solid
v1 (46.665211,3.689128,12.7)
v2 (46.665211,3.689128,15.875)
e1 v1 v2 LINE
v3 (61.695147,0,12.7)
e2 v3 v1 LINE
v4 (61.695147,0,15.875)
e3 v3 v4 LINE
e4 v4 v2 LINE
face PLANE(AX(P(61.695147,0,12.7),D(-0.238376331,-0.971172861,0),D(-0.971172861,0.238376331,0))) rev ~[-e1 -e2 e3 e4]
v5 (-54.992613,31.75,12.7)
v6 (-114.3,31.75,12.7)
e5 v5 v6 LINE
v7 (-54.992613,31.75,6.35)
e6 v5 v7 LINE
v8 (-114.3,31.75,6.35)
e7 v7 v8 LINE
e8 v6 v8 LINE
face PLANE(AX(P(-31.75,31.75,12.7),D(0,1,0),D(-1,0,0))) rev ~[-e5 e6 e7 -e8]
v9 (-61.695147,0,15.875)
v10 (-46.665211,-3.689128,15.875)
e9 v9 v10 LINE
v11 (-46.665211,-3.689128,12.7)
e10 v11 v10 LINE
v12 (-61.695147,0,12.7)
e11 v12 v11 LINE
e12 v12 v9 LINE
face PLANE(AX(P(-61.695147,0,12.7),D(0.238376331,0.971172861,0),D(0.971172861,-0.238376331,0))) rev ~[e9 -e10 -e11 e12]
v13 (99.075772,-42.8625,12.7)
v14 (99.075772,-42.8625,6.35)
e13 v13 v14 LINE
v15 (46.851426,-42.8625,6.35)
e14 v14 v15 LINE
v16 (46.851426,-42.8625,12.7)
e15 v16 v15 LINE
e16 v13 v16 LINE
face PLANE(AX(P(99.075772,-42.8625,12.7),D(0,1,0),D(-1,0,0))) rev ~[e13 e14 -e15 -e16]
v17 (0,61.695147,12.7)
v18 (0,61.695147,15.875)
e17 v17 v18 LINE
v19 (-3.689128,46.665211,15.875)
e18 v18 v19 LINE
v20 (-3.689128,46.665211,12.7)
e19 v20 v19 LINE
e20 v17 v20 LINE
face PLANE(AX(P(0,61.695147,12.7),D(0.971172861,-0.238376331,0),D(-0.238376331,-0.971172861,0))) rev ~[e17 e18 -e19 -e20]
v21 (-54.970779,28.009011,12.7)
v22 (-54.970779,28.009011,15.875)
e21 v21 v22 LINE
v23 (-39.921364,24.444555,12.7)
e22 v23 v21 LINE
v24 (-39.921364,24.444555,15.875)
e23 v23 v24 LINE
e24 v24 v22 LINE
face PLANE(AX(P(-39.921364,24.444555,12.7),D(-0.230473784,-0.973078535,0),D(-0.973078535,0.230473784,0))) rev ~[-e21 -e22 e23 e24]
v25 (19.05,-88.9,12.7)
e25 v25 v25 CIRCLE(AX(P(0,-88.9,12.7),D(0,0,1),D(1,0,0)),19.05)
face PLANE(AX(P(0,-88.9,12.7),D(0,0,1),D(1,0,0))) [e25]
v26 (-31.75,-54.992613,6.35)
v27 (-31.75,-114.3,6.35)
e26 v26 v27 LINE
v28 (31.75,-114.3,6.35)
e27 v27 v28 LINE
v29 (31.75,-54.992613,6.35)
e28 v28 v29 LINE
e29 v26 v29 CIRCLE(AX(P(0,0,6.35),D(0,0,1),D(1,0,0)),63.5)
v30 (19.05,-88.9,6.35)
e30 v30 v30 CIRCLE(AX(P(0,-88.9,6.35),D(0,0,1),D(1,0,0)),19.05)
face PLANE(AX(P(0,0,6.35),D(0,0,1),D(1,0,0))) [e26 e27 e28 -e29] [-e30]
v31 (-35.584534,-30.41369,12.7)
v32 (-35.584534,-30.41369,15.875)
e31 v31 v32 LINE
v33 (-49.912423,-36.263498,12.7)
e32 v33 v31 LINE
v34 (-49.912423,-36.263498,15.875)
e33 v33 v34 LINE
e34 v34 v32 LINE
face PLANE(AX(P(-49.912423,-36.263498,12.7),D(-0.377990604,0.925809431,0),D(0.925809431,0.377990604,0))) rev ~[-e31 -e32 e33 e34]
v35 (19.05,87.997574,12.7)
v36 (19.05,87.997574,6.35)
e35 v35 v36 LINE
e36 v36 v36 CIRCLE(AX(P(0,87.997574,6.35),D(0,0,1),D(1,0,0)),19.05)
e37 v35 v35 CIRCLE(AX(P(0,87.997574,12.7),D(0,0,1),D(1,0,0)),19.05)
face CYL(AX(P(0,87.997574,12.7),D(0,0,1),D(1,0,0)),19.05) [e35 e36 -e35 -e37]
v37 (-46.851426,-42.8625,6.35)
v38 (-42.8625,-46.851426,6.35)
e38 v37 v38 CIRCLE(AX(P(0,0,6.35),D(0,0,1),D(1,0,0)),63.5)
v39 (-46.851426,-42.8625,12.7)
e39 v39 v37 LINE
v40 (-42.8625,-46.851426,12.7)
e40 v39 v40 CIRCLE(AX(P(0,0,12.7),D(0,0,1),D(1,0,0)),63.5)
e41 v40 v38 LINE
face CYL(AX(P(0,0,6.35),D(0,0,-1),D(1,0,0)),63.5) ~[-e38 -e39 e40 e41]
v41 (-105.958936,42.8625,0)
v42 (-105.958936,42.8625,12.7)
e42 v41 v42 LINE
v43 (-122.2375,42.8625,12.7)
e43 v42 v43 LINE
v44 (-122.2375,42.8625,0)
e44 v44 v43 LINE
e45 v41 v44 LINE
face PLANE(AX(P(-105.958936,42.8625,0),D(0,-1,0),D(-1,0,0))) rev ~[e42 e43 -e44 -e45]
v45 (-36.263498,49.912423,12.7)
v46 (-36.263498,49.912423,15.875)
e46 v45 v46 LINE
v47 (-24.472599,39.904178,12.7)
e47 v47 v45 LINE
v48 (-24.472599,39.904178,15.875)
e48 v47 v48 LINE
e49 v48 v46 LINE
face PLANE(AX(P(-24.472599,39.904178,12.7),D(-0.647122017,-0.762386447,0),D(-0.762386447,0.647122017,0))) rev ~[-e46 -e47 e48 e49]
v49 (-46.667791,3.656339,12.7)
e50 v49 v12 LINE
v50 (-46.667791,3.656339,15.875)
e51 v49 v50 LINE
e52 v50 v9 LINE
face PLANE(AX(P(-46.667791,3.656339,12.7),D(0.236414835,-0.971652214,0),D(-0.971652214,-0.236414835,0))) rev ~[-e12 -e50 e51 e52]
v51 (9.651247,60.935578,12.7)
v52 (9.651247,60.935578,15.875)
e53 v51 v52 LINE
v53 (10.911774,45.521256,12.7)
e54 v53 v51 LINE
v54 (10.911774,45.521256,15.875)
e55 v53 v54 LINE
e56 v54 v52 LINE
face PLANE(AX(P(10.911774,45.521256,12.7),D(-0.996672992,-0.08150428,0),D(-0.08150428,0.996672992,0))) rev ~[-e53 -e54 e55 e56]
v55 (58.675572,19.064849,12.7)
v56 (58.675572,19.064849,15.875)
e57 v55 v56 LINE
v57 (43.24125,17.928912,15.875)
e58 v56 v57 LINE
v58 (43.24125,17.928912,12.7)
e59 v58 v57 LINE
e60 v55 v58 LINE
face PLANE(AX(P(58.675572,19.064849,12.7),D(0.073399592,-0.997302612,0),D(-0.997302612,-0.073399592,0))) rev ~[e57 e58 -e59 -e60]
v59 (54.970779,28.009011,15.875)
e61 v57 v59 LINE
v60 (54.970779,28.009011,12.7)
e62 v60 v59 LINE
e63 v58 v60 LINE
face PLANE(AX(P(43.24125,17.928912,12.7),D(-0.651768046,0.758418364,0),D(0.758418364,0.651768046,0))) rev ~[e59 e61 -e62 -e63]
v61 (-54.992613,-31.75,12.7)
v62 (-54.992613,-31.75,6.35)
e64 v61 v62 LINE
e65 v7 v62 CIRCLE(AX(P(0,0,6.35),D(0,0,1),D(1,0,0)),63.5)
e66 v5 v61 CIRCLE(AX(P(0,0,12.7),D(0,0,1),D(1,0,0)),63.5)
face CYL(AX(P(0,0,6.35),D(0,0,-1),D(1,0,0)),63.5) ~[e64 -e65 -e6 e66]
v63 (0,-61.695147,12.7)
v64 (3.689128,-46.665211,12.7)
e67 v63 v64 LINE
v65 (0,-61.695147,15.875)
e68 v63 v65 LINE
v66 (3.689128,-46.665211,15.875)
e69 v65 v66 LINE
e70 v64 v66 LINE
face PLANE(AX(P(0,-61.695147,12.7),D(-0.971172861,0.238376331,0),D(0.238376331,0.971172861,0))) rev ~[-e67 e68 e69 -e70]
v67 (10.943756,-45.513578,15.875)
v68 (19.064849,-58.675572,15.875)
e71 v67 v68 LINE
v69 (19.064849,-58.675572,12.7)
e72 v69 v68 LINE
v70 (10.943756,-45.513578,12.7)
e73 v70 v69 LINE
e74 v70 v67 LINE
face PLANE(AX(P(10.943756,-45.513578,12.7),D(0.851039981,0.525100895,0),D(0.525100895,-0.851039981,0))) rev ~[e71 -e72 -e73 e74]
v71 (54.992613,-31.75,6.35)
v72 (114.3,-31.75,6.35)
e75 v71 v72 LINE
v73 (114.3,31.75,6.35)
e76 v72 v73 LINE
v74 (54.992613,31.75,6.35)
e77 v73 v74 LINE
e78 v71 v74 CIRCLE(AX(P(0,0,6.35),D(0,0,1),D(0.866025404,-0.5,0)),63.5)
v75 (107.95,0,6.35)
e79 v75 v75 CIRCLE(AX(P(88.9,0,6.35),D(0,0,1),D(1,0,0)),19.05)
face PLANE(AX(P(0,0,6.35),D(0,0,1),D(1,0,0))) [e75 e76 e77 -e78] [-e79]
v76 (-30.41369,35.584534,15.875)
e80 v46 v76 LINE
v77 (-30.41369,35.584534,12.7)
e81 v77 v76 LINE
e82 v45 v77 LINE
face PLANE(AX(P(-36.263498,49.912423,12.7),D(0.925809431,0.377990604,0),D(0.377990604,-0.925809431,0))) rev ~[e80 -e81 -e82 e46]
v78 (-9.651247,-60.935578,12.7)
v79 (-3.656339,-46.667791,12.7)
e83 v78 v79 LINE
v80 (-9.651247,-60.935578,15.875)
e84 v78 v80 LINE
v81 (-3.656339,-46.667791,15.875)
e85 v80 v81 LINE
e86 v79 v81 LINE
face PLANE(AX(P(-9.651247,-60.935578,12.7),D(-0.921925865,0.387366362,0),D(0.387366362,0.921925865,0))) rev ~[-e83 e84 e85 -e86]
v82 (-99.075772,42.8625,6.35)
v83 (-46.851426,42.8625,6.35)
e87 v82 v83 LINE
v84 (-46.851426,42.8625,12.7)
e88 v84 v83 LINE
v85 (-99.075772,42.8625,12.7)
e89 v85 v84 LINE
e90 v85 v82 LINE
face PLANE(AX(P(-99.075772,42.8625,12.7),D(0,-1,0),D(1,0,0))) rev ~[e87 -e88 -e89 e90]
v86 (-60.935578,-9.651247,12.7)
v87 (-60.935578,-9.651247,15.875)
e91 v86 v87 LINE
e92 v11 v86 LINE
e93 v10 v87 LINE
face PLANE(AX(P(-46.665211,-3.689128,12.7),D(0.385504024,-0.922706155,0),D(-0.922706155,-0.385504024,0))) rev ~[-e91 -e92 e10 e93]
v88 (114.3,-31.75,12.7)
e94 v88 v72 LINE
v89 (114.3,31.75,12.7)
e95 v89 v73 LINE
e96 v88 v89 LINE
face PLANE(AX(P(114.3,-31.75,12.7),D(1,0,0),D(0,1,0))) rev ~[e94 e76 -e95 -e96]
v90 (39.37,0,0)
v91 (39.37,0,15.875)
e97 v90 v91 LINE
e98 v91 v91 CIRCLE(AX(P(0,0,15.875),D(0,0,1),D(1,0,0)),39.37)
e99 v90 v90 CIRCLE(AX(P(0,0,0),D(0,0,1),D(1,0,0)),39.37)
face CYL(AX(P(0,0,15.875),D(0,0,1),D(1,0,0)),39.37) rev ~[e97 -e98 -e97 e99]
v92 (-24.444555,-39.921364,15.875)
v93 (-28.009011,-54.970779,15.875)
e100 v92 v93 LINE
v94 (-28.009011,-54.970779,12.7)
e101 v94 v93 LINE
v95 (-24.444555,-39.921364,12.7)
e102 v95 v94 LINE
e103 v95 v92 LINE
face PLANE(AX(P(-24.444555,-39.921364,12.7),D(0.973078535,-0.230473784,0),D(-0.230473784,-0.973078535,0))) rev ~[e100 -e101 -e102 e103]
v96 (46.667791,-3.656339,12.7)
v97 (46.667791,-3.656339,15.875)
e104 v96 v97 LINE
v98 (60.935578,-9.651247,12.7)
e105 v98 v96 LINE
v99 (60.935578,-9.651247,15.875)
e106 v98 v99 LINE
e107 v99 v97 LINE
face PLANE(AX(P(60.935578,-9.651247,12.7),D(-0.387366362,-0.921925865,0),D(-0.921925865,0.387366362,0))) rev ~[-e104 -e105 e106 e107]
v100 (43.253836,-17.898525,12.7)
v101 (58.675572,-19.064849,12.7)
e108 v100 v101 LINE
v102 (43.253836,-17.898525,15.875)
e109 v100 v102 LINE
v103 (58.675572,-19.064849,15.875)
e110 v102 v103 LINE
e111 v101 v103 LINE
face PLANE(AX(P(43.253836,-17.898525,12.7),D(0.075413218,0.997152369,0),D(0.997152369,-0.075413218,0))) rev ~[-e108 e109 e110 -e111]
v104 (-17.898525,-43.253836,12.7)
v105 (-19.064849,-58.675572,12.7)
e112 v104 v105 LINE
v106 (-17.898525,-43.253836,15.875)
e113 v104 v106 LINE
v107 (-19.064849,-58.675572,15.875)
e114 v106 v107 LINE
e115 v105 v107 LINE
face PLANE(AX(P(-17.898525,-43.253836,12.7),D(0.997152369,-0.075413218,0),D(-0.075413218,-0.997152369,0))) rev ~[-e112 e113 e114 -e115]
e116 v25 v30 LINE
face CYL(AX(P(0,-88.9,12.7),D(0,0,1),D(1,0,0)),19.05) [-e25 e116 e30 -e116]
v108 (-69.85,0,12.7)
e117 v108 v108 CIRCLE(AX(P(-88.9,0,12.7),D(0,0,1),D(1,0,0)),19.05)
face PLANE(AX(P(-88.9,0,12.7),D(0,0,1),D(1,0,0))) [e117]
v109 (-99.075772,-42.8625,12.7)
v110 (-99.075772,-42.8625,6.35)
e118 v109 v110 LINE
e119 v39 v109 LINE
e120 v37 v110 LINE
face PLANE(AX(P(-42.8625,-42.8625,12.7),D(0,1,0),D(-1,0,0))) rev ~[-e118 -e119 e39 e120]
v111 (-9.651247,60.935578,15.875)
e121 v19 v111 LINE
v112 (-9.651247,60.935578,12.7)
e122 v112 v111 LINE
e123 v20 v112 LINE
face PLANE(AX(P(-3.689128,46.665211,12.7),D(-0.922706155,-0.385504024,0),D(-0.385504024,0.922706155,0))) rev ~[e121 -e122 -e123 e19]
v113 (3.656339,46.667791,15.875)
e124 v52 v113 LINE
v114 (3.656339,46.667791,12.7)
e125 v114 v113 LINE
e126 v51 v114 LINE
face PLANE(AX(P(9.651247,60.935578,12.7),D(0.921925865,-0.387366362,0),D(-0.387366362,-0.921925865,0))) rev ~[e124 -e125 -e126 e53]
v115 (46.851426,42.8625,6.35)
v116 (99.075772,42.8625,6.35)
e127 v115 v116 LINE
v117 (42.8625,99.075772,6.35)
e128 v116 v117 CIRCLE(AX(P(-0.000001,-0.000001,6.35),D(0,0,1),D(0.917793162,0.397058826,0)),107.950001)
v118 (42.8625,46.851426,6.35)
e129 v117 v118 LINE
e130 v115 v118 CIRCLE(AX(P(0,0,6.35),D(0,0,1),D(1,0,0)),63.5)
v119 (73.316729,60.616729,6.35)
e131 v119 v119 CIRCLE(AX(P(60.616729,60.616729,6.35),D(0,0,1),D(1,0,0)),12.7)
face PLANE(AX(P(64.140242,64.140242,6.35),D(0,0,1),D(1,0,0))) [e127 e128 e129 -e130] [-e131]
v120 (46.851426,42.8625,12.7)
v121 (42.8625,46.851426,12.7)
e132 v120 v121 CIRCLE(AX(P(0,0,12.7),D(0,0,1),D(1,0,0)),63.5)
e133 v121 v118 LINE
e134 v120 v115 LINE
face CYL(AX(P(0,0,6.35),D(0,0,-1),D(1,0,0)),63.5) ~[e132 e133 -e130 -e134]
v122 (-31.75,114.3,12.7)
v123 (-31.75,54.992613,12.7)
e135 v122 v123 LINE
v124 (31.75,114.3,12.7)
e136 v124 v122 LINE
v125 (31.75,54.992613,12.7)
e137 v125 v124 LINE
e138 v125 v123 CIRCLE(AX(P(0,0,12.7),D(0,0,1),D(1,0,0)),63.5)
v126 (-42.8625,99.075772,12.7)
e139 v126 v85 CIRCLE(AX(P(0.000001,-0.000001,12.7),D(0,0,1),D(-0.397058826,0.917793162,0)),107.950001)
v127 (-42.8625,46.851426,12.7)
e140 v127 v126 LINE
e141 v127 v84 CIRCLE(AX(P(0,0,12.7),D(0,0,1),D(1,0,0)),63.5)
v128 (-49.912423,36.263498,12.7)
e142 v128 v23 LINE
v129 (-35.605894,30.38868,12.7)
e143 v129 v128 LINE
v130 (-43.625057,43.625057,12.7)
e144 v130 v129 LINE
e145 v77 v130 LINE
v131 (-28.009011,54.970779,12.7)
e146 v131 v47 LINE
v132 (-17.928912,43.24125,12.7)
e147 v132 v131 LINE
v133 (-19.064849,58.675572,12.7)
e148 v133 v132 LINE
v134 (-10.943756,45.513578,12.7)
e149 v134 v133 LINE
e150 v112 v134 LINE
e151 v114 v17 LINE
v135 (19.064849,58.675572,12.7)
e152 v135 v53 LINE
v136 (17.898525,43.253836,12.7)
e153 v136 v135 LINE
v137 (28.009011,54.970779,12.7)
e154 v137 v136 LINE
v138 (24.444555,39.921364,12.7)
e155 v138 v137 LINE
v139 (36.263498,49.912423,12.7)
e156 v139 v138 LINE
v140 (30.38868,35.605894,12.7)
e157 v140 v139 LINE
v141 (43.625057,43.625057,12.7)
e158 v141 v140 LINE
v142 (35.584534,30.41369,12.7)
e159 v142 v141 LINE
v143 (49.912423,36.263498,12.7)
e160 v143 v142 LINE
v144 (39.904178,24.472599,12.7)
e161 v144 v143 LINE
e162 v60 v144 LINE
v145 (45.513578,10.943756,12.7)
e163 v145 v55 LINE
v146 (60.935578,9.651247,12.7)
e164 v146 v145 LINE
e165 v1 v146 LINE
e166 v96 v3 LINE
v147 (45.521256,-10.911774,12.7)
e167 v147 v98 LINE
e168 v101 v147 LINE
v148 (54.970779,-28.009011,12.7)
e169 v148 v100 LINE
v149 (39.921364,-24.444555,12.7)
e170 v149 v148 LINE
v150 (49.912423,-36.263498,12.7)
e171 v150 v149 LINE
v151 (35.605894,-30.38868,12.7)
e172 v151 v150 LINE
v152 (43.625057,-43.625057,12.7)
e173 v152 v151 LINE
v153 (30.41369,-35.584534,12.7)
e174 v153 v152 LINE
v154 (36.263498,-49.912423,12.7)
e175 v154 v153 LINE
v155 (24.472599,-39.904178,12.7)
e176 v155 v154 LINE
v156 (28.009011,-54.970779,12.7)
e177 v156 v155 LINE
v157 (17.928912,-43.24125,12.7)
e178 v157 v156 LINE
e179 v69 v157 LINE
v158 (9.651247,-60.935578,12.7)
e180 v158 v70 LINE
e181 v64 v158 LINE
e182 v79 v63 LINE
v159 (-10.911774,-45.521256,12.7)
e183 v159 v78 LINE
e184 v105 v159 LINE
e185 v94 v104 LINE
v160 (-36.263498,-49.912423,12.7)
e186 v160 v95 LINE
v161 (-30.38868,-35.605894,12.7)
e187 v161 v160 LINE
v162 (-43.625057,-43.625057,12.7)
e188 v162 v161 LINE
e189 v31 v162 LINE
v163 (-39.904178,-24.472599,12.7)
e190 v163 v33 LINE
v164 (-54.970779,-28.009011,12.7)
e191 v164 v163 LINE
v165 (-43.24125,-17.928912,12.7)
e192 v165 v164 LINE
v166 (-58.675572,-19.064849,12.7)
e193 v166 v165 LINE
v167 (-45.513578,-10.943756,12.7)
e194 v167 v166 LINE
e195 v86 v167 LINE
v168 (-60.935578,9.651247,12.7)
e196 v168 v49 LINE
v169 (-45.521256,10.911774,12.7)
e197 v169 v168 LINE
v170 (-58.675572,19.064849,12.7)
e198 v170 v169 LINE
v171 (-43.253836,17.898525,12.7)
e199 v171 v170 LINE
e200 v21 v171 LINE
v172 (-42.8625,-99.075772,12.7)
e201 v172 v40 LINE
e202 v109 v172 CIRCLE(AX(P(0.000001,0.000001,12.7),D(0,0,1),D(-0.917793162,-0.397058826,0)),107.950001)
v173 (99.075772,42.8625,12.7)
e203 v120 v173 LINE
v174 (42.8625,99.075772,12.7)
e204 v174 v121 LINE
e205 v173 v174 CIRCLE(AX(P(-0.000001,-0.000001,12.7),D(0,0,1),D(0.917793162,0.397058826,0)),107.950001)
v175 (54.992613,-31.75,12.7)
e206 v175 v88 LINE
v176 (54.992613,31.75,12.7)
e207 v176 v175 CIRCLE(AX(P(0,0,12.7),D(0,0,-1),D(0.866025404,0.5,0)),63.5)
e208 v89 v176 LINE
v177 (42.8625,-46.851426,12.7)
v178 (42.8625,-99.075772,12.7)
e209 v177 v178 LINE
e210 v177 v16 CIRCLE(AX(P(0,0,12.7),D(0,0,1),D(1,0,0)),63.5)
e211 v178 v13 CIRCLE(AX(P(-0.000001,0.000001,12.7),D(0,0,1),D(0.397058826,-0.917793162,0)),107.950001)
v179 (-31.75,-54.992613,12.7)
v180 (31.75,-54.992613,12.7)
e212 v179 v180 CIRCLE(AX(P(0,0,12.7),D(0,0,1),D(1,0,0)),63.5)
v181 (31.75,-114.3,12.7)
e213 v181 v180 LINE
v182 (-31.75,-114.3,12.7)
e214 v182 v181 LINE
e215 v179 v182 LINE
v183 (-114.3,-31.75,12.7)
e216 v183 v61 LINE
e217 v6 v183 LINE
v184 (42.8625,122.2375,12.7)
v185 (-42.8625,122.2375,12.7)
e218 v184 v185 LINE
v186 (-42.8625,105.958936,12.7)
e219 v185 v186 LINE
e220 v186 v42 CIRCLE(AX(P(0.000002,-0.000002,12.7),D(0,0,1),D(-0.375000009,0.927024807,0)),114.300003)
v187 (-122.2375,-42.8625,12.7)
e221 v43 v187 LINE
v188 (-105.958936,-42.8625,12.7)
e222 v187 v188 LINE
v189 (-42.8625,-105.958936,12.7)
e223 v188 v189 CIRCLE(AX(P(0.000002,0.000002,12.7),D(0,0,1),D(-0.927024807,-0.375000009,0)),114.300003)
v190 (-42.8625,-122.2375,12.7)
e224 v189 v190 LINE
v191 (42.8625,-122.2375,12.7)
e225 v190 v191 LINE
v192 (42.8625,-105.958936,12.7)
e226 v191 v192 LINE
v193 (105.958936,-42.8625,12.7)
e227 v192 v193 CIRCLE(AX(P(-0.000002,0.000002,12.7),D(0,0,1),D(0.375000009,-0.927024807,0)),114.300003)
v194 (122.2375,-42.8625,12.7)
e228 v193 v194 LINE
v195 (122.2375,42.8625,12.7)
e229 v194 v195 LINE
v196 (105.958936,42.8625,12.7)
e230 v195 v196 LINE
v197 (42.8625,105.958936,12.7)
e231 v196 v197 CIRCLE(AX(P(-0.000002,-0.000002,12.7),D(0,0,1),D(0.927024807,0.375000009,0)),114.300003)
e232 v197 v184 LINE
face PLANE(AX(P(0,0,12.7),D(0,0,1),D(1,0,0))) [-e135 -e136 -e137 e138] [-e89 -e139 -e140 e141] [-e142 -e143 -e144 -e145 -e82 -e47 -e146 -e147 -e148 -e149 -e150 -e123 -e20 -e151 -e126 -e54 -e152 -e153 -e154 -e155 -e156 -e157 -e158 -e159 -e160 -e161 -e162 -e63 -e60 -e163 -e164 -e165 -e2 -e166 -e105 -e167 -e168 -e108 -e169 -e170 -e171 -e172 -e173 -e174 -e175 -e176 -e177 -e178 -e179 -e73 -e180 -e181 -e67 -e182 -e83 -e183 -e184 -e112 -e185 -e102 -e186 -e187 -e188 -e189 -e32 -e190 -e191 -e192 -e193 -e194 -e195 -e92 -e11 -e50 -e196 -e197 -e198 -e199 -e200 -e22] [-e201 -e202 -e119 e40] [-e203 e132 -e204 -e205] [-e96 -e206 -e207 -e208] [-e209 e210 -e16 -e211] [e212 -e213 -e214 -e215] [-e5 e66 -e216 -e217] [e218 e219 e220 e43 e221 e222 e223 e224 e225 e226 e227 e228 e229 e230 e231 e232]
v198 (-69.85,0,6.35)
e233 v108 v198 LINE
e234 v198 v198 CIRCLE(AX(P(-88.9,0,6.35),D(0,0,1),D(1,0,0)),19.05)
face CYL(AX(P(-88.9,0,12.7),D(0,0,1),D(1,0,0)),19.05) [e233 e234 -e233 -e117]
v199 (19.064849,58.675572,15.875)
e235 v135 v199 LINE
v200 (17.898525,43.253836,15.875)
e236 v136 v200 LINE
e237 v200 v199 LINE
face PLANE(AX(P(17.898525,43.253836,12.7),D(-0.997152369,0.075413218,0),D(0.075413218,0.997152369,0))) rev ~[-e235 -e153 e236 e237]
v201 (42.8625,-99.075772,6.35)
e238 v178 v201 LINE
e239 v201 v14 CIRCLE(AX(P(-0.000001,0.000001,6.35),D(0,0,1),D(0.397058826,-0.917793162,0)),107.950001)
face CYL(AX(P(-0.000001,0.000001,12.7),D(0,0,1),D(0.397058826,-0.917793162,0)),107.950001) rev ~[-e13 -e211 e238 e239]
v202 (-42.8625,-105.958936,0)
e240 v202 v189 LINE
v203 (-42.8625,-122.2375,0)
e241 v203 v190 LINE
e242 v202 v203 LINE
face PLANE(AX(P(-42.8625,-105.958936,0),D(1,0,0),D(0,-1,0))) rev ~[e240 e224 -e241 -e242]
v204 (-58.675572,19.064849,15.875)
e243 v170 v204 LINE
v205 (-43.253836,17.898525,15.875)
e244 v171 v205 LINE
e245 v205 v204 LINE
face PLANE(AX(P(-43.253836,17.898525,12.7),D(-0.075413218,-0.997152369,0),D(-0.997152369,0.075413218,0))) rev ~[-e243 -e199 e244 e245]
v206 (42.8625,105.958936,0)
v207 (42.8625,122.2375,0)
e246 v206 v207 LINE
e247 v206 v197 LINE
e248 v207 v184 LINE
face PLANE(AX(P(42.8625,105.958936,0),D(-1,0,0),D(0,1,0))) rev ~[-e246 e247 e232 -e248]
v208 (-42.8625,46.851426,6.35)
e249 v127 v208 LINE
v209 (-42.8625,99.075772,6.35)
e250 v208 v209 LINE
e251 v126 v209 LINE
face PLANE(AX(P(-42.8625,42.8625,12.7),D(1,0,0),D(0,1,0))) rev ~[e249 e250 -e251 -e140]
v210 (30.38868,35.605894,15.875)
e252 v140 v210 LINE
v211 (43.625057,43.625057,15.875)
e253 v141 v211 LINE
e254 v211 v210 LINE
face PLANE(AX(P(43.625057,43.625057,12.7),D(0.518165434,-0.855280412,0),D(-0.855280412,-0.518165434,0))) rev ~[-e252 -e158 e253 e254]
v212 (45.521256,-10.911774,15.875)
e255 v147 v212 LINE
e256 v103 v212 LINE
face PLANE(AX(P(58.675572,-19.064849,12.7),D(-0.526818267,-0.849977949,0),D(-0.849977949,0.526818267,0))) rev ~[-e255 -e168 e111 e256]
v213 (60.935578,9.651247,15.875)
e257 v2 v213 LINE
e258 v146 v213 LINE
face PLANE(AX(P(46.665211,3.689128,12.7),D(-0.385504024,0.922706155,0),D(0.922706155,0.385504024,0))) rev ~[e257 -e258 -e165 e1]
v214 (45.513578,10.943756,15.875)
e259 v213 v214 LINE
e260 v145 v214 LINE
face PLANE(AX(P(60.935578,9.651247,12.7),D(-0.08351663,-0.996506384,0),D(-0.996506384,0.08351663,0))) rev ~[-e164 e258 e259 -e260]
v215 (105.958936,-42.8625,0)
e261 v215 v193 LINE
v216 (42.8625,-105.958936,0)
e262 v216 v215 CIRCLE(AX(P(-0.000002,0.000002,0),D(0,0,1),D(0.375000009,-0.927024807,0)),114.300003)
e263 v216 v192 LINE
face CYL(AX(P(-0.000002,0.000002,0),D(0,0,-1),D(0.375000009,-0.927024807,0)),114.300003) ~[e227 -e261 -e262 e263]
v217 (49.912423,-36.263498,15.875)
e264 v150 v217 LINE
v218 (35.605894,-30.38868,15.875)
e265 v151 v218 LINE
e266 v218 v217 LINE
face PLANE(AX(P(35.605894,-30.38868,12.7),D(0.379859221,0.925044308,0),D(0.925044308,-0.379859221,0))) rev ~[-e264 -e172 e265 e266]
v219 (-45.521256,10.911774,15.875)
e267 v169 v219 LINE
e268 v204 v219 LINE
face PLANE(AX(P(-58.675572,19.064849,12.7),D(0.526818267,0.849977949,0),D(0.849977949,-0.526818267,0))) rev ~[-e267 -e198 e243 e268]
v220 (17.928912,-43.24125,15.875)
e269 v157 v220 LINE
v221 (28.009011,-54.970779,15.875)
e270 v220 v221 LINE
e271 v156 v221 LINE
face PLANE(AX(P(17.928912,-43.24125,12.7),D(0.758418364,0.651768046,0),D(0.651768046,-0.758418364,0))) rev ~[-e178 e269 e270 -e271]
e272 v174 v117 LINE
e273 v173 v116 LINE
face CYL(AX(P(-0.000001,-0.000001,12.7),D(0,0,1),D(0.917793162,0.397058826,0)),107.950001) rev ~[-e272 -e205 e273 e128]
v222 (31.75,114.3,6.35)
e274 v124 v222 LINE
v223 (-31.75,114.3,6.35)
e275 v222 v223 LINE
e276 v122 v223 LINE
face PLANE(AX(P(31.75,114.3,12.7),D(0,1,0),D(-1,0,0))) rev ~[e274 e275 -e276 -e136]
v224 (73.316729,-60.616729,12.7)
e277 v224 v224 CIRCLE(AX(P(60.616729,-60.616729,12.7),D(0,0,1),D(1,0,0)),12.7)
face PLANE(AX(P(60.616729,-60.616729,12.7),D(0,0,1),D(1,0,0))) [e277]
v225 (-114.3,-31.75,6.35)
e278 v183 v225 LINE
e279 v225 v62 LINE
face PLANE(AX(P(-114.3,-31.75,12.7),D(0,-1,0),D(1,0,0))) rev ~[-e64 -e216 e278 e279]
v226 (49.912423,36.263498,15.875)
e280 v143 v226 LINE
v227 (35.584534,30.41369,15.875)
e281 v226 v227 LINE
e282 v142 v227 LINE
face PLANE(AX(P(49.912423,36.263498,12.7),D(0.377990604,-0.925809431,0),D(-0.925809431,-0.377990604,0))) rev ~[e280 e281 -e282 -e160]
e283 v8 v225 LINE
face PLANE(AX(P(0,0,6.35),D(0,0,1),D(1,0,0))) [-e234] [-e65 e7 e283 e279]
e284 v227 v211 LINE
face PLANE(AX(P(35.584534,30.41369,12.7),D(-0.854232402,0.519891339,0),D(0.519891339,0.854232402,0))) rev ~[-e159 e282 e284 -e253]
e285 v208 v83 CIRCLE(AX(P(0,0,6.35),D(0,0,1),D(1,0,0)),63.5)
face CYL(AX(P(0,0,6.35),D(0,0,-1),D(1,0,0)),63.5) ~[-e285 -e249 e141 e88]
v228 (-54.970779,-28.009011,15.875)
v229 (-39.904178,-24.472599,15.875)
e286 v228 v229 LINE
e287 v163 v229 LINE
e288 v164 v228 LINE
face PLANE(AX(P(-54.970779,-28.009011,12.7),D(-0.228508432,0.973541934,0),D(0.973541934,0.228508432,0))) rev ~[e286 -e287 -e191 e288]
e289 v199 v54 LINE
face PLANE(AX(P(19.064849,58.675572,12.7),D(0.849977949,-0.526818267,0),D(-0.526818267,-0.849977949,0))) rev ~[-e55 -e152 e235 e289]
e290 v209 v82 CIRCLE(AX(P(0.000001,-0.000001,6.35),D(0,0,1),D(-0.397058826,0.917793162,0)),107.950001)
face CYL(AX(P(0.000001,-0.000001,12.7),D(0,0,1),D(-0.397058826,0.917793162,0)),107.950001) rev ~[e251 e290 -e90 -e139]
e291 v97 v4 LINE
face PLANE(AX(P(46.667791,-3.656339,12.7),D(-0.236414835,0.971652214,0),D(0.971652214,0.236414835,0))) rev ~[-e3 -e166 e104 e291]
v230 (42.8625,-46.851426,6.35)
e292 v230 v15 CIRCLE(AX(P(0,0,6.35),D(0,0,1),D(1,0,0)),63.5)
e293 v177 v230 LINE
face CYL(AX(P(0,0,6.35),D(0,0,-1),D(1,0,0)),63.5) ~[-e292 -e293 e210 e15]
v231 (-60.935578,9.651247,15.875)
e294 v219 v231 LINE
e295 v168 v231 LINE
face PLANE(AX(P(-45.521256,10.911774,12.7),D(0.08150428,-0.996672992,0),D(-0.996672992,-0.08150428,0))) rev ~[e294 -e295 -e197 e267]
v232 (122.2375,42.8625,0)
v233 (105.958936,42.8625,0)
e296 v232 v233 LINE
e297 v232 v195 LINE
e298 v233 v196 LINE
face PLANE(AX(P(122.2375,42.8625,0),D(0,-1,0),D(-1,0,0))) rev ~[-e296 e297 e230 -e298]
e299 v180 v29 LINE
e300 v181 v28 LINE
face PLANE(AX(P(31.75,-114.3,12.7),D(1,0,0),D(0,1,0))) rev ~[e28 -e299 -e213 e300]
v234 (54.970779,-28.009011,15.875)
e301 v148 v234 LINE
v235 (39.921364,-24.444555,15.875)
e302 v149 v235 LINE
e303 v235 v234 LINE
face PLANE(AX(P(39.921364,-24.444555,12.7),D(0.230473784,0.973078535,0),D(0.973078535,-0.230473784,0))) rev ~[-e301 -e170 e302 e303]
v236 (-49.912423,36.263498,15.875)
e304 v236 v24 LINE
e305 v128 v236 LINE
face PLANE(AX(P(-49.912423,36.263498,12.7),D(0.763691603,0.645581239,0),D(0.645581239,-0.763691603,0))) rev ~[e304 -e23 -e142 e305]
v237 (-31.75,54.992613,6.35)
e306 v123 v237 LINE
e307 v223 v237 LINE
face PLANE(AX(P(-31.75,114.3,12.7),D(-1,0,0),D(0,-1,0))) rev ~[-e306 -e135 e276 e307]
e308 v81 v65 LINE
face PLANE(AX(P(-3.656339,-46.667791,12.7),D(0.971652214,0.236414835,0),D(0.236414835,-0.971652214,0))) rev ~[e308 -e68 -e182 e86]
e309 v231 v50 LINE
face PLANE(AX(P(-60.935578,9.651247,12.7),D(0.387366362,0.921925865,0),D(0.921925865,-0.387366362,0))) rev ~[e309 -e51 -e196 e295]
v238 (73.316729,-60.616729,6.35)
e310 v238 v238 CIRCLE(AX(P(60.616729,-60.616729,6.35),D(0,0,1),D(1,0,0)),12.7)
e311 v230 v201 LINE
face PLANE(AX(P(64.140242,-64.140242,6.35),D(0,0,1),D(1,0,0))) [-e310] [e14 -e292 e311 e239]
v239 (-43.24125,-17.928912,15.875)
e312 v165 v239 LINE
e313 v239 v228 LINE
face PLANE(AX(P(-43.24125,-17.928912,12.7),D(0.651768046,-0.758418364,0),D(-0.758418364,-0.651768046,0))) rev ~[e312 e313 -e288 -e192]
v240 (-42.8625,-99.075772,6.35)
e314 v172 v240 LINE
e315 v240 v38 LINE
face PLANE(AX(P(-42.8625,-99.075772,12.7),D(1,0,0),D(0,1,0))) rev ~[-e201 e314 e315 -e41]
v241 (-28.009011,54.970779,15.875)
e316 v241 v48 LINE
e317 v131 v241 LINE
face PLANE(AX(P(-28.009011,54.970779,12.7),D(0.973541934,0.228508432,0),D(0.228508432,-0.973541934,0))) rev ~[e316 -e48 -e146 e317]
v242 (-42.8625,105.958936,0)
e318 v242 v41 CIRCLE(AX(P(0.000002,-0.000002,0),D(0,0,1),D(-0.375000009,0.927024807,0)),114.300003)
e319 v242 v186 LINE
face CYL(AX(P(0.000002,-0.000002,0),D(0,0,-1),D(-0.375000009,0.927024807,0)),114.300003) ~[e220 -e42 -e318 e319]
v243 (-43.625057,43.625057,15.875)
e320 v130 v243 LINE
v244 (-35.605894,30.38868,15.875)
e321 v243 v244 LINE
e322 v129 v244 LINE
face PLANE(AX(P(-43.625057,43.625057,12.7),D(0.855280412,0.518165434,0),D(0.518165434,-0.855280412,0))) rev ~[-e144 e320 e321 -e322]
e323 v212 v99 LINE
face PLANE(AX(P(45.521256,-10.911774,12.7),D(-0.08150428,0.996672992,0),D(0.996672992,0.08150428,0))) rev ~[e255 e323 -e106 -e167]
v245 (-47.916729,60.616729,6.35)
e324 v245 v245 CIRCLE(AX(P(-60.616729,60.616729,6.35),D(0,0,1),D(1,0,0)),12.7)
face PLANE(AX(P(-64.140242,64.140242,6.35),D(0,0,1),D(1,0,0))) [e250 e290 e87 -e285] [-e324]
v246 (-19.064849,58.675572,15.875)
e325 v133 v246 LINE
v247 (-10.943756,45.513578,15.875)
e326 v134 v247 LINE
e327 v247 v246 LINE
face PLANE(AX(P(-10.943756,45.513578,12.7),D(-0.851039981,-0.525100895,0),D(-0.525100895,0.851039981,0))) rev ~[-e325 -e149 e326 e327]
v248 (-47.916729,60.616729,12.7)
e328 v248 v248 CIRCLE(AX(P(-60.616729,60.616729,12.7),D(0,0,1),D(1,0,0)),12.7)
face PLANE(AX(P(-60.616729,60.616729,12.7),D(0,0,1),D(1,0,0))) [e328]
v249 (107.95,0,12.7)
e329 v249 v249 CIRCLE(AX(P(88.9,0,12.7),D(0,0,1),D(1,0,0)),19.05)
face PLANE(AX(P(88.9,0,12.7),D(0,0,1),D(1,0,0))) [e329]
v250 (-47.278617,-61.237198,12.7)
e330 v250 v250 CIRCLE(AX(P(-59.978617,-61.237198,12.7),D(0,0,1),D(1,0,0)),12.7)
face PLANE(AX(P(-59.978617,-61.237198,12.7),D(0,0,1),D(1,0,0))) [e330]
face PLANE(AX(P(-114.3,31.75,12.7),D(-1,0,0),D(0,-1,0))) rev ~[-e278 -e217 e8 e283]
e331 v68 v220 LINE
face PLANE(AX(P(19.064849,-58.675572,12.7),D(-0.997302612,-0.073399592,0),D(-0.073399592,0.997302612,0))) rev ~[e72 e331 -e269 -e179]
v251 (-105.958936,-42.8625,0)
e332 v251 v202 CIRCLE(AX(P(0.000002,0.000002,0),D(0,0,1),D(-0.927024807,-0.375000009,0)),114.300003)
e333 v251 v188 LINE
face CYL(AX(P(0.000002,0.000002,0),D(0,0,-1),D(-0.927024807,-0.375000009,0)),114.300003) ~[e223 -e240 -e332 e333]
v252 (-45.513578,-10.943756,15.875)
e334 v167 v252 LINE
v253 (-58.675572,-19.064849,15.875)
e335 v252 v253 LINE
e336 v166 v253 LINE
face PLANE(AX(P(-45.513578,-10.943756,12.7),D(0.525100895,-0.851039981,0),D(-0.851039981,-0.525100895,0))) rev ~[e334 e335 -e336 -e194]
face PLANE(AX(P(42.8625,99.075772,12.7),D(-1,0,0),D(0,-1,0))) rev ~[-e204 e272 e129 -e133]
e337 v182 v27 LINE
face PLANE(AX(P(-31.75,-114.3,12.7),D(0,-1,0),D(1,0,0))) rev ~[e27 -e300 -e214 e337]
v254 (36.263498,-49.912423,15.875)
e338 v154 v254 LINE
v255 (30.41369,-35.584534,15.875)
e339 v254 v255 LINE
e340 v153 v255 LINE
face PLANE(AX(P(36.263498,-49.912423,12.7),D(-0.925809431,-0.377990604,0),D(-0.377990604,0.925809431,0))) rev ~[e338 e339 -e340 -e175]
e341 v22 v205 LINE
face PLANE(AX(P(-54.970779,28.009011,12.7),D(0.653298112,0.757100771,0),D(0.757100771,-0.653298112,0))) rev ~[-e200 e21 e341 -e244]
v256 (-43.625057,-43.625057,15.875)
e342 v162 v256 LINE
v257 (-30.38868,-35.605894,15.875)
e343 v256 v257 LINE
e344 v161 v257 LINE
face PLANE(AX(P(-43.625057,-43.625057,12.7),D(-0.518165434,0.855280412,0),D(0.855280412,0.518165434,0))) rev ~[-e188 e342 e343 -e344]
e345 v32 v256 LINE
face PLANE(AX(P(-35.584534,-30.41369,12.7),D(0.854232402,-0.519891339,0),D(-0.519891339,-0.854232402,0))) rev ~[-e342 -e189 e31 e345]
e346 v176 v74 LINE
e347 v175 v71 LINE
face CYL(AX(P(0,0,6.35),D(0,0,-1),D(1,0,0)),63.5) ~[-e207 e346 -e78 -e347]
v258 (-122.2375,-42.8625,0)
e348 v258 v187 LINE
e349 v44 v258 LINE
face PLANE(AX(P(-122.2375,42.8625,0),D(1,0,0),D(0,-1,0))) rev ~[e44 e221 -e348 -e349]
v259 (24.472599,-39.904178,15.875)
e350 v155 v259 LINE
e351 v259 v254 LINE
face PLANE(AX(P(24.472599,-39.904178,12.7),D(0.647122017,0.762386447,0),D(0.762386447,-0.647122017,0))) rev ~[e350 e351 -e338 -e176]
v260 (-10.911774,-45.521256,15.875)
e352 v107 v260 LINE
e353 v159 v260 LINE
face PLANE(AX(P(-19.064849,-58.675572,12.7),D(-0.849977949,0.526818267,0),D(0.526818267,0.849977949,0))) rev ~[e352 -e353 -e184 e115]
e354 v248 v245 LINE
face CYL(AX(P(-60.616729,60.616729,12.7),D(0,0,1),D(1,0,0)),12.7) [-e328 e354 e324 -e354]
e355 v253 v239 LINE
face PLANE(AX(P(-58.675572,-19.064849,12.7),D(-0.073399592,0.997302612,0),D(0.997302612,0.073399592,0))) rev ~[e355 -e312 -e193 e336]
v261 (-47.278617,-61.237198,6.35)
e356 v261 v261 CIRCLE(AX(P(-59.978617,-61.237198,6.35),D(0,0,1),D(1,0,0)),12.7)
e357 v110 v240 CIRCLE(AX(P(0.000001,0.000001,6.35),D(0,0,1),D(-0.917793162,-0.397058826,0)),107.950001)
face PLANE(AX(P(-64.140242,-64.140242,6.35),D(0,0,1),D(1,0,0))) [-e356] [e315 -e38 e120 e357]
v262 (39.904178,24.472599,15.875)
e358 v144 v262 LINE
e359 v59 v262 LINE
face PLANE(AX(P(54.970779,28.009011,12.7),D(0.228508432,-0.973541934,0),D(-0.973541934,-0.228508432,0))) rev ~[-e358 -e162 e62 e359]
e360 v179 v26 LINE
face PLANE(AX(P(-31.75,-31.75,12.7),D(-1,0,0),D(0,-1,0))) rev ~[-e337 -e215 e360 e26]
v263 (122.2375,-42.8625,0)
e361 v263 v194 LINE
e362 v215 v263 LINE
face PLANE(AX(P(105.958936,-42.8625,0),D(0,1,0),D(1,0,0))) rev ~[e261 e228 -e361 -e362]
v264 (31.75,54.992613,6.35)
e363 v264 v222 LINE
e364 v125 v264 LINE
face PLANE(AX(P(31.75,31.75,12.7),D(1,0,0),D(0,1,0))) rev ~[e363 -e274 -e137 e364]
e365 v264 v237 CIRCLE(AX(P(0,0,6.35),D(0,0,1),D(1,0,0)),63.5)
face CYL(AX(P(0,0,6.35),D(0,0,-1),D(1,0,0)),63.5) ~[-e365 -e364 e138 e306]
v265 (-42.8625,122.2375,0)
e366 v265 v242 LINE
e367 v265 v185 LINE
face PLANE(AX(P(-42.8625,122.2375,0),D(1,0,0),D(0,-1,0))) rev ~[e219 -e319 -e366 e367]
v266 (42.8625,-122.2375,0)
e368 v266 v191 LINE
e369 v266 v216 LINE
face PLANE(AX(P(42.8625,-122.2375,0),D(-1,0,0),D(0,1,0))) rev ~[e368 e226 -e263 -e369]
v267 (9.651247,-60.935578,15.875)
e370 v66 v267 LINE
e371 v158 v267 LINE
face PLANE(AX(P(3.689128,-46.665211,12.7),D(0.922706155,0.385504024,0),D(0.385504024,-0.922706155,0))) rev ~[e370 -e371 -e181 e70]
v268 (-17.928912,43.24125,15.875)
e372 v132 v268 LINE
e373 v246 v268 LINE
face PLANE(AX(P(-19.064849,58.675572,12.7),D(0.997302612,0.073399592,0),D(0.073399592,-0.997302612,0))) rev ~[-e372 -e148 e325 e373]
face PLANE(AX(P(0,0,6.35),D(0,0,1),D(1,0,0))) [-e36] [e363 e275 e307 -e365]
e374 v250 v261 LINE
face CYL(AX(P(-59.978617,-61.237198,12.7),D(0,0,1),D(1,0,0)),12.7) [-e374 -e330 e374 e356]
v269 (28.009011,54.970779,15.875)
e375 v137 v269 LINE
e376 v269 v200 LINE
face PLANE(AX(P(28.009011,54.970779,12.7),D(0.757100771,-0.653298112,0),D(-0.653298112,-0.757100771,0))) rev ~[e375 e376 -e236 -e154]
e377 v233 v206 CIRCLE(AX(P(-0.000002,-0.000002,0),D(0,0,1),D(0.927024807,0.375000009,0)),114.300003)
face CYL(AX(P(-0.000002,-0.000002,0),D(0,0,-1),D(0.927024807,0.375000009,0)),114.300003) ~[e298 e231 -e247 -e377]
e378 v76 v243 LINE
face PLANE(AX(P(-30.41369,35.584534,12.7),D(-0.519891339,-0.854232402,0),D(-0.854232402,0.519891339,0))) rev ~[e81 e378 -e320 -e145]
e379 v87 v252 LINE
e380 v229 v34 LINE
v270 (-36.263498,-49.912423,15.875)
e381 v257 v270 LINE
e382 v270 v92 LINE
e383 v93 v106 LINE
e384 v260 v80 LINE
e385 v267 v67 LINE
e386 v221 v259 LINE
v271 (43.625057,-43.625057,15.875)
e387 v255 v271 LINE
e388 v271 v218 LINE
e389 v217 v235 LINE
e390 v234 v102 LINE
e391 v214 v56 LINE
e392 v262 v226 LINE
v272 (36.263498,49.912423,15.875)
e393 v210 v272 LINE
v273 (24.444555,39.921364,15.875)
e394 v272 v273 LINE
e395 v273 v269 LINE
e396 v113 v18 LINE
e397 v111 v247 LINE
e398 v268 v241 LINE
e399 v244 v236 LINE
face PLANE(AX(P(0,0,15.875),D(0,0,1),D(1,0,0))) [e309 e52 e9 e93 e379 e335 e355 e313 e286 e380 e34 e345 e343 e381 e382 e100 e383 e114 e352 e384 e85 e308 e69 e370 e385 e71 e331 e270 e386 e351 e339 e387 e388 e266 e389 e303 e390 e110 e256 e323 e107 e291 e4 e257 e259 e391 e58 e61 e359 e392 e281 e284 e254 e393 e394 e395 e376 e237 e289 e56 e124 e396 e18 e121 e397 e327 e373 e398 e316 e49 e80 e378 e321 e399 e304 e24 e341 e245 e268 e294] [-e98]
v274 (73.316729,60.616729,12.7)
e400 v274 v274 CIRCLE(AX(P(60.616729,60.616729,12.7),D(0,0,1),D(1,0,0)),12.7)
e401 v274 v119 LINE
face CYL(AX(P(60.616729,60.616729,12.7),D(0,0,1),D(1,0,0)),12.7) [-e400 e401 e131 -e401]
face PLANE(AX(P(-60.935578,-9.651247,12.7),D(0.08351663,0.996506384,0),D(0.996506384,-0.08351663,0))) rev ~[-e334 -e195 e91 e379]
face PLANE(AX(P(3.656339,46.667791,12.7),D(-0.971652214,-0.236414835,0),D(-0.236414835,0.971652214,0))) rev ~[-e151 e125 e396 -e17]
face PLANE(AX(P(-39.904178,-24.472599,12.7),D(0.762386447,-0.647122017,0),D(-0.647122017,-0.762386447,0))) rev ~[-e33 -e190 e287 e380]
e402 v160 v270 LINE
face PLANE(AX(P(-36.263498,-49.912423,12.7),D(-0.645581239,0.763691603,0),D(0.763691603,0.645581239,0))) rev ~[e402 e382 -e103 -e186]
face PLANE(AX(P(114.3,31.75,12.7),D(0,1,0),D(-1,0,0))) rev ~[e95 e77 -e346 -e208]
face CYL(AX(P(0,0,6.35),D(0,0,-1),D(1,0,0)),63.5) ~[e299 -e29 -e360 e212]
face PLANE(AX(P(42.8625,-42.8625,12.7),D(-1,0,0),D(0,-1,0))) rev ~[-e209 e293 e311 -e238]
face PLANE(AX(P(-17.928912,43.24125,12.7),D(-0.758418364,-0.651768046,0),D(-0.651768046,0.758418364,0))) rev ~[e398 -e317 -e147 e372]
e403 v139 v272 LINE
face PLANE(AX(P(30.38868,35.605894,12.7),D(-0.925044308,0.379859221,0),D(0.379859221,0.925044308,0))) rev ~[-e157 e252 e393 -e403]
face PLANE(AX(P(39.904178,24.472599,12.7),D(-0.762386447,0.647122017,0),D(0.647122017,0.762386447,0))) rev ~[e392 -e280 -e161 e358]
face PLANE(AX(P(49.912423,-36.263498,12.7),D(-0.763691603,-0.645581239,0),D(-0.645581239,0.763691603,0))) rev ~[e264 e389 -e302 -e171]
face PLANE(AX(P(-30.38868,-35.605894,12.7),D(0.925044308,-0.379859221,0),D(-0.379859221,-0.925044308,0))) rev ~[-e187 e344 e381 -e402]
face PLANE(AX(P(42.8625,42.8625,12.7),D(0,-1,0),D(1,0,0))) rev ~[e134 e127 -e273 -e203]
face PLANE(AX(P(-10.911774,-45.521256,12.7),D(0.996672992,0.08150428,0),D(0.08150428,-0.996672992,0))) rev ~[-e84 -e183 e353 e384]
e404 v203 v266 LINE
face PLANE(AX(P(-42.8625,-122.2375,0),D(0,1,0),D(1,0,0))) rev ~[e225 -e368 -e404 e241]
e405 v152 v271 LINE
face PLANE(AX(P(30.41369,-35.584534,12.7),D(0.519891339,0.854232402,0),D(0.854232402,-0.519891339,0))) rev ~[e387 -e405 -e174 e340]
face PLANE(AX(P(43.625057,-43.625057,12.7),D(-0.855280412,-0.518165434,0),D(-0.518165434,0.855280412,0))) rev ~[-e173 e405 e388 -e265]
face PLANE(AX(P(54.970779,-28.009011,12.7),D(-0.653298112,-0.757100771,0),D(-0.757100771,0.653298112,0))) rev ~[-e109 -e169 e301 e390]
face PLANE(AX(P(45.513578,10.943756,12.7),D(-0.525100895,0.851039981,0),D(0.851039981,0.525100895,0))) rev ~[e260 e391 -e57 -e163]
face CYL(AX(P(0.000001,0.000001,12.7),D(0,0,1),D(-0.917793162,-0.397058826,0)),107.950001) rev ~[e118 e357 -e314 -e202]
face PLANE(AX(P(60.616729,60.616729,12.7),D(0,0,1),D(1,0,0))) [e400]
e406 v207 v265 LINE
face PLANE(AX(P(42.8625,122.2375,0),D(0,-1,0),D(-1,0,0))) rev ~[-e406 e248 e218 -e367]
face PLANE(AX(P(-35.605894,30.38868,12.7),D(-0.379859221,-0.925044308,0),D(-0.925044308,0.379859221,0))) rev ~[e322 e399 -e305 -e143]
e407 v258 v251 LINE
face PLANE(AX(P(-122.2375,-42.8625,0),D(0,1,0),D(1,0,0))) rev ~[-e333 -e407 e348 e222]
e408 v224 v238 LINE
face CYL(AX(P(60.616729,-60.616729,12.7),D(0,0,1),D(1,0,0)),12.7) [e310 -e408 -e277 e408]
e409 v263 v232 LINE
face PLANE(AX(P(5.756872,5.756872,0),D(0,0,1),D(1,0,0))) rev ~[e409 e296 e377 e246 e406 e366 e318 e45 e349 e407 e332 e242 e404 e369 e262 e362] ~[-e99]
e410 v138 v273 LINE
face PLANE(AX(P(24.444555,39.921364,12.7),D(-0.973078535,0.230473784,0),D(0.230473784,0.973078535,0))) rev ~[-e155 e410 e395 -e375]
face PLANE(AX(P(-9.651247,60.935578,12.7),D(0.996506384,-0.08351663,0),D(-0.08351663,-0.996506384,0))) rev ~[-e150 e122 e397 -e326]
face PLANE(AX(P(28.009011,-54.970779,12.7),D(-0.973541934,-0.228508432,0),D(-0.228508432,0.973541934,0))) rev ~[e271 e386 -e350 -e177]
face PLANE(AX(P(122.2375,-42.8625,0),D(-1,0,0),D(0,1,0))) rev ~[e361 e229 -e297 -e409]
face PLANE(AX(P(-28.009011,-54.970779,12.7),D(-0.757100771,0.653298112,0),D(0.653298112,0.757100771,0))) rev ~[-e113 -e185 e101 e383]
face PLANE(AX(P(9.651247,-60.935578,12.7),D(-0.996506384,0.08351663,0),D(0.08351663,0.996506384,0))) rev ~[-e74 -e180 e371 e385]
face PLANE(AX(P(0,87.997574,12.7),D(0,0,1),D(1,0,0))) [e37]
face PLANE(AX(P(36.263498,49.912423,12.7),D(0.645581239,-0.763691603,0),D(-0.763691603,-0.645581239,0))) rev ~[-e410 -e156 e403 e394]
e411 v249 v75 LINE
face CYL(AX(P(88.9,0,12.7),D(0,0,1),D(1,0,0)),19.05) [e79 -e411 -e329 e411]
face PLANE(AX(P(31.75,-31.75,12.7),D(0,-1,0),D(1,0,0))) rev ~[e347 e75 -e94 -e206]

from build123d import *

# Parameters (mm, degrees)
F1_DEPTH  = 12.7
F2_R      = 39.37
F3_DEPTH  = 12.7
F5_DEPTH  = 6.35
F6_R      = 63.5
F6_R_2    = 39.37
F7_DEPTH  = 6.35
F9_DEPTH  = 3.175
F10_R     = 39.37
F11_DEPTH = 3.175
F12_R     = 19.05
F12_R_2   = 12.7
F13_DEPTH = 6.35


with BuildPart() as f1:
    # F0 (on Top) → F1 (new body)
    with BuildSketch(Plane.XY):
        with BuildLine():
            Line((-42.8625, 122.2375), (-42.8625, 105.958936))
            ThreePointArc((-42.8625, 105.958936), (-80.822305, 80.822305), (-105.958936, 42.8625))
            ThreePointArc((-105.958936, 42.8625), (-114.3, 0), (-105.958936, -42.8625))
            ThreePointArc((-105.958936, -42.8625), (-80.822305, -80.822305), (-42.8625, -105.958936))
            ThreePointArc((-42.8625, -105.958936), (0, -114.3), (42.8625, -105.958936))
            ThreePointArc((42.8625, -105.958936), (80.822305, -80.822305), (105.958936, -42.8625))
            Line((105.958936, -42.8625), (122.2375, -42.8625))
            Line((122.2375, -42.8625), (122.2375, 42.8625))
            Line((122.2375, 42.8625), (105.958936, 42.8625))
            ThreePointArc((105.958936, 42.8625), (80.822305, 80.822305), (42.8625, 105.958936))
            Line((42.8625, 105.958936), (42.8625, 122.2375))
            Line((42.8625, 122.2375), (-42.8625, 122.2375))
        make_face()
        with BuildLine():
            ThreePointArc((-105.958936, -42.8625), (-114.3, 0), (-105.958936, 42.8625))
            Line((-105.958936, 42.8625), (-122.2375, 42.8625))
            Line((-122.2375, 42.8625), (-122.2375, -42.8625))
            Line((-122.2375, -42.8625), (-105.958936, -42.8625))
        make_face()
        with BuildLine():
            ThreePointArc((42.8625, -105.958936), (0, -114.3), (-42.8625, -105.958936))
            Line((-42.8625, -105.958936), (-42.8625, -122.2375))
            Line((-42.8625, -122.2375), (42.8625, -122.2375))
            Line((42.8625, -122.2375), (42.8625, -105.958936))
        make_face()
    extrude(amount=F1_DEPTH)

    # F2 (on face) → F3 (cut, through all)
    with BuildSketch(Plane.XY.offset(12.7)):
        Circle(F2_R)
    extrude(amount=-F3_DEPTH, mode=Mode.SUBTRACT)

    # F4 (on face) → F5 (cut)
    with BuildSketch(Plane.XY.offset(12.7)):
        Polygon((31.75, 114.3), (-31.75, 114.3), (-31.75, 31.75), (-114.3, 31.75), (-114.3, -31.75), (-31.75, -31.75), (-31.75, -42.8625), (-31.75, -114.3), (31.75, -114.3), (31.75, -42.8625), (31.75, -31.75), (42.8625, -31.75), (114.3, -31.75), (114.3, 31.75), (31.75, 31.75), align=None)
        with BuildLine():
            Line((-42.8625, -42.8625), (-99.075772, -42.8625))
            ThreePointArc((-99.075772, -42.8625), (-76.332177, -76.332177), (-42.8625, -99.075772))
            Line((-42.8625, -99.075772), (-42.8625, -42.8625))
        make_face()
        with BuildLine():
            Line((42.8625, 42.8625), (99.075772, 42.8625))
            ThreePointArc((99.075772, 42.8625), (76.332177, 76.332177), (42.8625, 99.075772))
            Line((42.8625, 99.075772), (42.8625, 42.8625))
        make_face()
        with BuildLine():
            Line((-42.8625, 42.8625), (-42.8625, 99.075772))
            ThreePointArc((-42.8625, 99.075772), (-76.332177, 76.332177), (-99.075772, 42.8625))
            Line((-99.075772, 42.8625), (-42.8625, 42.8625))
        make_face()
        with BuildLine():
            Line((42.8625, -42.8625), (42.8625, -99.075772))
            ThreePointArc((42.8625, -99.075772), (76.332177, -76.332177), (99.075772, -42.8625))
            Line((99.075772, -42.8625), (42.8625, -42.8625))
        make_face()
    extrude(amount=-F5_DEPTH, mode=Mode.SUBTRACT)

    # F6 (on face) → F7 (join)
    with BuildSketch(Plane.XY.offset(6.35)):
        Circle(F6_R)
        Circle(F6_R_2, mode=Mode.SUBTRACT)
    extrude(amount=F7_DEPTH)

    # F8 (on face) → F9 (join)
    with BuildSketch(Plane.XY.offset(12.7)):
        Polygon((3.656339, 46.667791), (0, 61.695147), (-3.689128, 46.665211), (-9.651247, 60.935578), (-10.943756, 45.513578), (-19.064849, 58.675572), (-17.928912, 43.24125), (-28.009011, 54.970779), (-24.472599, 39.904178), (-36.263498, 49.912423), (-30.41369, 35.584534), (-43.625057, 43.625057), (-35.605894, 30.38868), (-49.912423, 36.263498), (-39.921364, 24.444555), (-54.970779, 28.009011), (-43.253836, 17.898525), (-58.675572, 19.064849), (-45.521256, 10.911774), (-60.935578, 9.651247), (-46.667791, 3.656339), (-61.695147, 0), (-46.665211, -3.689128), (-60.935578, -9.651247), (-45.513578, -10.943756), (-58.675572, -19.064849), (-43.24125, -17.928912), (-54.970779, -28.009011), (-39.904178, -24.472599), (-49.912423, -36.263498), (-35.584534, -30.41369), (-43.625057, -43.625057), (-30.38868, -35.605894), (-36.263498, -49.912423), (-24.444555, -39.921364), (-28.009011, -54.970779), (-17.898525, -43.253836), (-19.064849, -58.675572), (-10.911774, -45.521256), (-9.651247, -60.935578), (-3.656339, -46.667791), (0, -61.695147), (3.689128, -46.665211), (9.651247, -60.935578), (10.943756, -45.513578), (19.064849, -58.675572), (17.928912, -43.24125), (28.009011, -54.970779), (24.472599, -39.904178), (36.263498, -49.912423), (30.41369, -35.584534), (43.625057, -43.625057), (35.605894, -30.38868), (49.912423, -36.263498), (39.921364, -24.444555), (54.970779, -28.009011), (43.253836, -17.898525), (58.675572, -19.064849), (45.521256, -10.911774), (60.935578, -9.651247), (46.667791, -3.656339), (61.695147, 0), (46.665211, 3.689128), (60.935578, 9.651247), (45.513578, 10.943756), (58.675572, 19.064849), (43.24125, 17.928912), (54.970779, 28.009011), (39.904178, 24.472599), (49.912423, 36.263498), (35.584534, 30.41369), (43.625057, 43.625057), (30.38868, 35.605894), (36.263498, 49.912423), (24.444555, 39.921364), (28.009011, 54.970779), (17.898525, 43.253836), (19.064849, 58.675572), (10.911774, 45.521256), (9.651247, 60.935578), align=None)
    extrude(amount=F9_DEPTH)

    # F10 (on face) → F11 (cut, through all)
    with BuildSketch(Plane.XY.offset(15.875)):
        Circle(F10_R)
    extrude(amount=-F11_DEPTH, mode=Mode.SUBTRACT)

    # F12 (on face) → F13 (join)
    with BuildSketch(Plane.XY.offset(12.7)):
        with Locations((0, 87.997574)):
            Circle(F12_R)
        with Locations((60.616729, 60.616729)):
            Circle(F12_R_2)
        with Locations((88.9, 0)):
            Circle(F12_R)
        with Locations((60.616729, -60.616729)):
            Circle(F12_R_2)
        with Locations((0, -88.9)):
            Circle(F12_R)
        with Locations((-59.978617, -61.237198)):
            Circle(F12_R_2)
        with Locations((-88.9, 0)):
            Circle(F12_R)
        with Locations((-60.616729, 60.616729)):
            Circle(F12_R_2)
    extrude(amount=-F13_DEPTH)


solid = f1.part
